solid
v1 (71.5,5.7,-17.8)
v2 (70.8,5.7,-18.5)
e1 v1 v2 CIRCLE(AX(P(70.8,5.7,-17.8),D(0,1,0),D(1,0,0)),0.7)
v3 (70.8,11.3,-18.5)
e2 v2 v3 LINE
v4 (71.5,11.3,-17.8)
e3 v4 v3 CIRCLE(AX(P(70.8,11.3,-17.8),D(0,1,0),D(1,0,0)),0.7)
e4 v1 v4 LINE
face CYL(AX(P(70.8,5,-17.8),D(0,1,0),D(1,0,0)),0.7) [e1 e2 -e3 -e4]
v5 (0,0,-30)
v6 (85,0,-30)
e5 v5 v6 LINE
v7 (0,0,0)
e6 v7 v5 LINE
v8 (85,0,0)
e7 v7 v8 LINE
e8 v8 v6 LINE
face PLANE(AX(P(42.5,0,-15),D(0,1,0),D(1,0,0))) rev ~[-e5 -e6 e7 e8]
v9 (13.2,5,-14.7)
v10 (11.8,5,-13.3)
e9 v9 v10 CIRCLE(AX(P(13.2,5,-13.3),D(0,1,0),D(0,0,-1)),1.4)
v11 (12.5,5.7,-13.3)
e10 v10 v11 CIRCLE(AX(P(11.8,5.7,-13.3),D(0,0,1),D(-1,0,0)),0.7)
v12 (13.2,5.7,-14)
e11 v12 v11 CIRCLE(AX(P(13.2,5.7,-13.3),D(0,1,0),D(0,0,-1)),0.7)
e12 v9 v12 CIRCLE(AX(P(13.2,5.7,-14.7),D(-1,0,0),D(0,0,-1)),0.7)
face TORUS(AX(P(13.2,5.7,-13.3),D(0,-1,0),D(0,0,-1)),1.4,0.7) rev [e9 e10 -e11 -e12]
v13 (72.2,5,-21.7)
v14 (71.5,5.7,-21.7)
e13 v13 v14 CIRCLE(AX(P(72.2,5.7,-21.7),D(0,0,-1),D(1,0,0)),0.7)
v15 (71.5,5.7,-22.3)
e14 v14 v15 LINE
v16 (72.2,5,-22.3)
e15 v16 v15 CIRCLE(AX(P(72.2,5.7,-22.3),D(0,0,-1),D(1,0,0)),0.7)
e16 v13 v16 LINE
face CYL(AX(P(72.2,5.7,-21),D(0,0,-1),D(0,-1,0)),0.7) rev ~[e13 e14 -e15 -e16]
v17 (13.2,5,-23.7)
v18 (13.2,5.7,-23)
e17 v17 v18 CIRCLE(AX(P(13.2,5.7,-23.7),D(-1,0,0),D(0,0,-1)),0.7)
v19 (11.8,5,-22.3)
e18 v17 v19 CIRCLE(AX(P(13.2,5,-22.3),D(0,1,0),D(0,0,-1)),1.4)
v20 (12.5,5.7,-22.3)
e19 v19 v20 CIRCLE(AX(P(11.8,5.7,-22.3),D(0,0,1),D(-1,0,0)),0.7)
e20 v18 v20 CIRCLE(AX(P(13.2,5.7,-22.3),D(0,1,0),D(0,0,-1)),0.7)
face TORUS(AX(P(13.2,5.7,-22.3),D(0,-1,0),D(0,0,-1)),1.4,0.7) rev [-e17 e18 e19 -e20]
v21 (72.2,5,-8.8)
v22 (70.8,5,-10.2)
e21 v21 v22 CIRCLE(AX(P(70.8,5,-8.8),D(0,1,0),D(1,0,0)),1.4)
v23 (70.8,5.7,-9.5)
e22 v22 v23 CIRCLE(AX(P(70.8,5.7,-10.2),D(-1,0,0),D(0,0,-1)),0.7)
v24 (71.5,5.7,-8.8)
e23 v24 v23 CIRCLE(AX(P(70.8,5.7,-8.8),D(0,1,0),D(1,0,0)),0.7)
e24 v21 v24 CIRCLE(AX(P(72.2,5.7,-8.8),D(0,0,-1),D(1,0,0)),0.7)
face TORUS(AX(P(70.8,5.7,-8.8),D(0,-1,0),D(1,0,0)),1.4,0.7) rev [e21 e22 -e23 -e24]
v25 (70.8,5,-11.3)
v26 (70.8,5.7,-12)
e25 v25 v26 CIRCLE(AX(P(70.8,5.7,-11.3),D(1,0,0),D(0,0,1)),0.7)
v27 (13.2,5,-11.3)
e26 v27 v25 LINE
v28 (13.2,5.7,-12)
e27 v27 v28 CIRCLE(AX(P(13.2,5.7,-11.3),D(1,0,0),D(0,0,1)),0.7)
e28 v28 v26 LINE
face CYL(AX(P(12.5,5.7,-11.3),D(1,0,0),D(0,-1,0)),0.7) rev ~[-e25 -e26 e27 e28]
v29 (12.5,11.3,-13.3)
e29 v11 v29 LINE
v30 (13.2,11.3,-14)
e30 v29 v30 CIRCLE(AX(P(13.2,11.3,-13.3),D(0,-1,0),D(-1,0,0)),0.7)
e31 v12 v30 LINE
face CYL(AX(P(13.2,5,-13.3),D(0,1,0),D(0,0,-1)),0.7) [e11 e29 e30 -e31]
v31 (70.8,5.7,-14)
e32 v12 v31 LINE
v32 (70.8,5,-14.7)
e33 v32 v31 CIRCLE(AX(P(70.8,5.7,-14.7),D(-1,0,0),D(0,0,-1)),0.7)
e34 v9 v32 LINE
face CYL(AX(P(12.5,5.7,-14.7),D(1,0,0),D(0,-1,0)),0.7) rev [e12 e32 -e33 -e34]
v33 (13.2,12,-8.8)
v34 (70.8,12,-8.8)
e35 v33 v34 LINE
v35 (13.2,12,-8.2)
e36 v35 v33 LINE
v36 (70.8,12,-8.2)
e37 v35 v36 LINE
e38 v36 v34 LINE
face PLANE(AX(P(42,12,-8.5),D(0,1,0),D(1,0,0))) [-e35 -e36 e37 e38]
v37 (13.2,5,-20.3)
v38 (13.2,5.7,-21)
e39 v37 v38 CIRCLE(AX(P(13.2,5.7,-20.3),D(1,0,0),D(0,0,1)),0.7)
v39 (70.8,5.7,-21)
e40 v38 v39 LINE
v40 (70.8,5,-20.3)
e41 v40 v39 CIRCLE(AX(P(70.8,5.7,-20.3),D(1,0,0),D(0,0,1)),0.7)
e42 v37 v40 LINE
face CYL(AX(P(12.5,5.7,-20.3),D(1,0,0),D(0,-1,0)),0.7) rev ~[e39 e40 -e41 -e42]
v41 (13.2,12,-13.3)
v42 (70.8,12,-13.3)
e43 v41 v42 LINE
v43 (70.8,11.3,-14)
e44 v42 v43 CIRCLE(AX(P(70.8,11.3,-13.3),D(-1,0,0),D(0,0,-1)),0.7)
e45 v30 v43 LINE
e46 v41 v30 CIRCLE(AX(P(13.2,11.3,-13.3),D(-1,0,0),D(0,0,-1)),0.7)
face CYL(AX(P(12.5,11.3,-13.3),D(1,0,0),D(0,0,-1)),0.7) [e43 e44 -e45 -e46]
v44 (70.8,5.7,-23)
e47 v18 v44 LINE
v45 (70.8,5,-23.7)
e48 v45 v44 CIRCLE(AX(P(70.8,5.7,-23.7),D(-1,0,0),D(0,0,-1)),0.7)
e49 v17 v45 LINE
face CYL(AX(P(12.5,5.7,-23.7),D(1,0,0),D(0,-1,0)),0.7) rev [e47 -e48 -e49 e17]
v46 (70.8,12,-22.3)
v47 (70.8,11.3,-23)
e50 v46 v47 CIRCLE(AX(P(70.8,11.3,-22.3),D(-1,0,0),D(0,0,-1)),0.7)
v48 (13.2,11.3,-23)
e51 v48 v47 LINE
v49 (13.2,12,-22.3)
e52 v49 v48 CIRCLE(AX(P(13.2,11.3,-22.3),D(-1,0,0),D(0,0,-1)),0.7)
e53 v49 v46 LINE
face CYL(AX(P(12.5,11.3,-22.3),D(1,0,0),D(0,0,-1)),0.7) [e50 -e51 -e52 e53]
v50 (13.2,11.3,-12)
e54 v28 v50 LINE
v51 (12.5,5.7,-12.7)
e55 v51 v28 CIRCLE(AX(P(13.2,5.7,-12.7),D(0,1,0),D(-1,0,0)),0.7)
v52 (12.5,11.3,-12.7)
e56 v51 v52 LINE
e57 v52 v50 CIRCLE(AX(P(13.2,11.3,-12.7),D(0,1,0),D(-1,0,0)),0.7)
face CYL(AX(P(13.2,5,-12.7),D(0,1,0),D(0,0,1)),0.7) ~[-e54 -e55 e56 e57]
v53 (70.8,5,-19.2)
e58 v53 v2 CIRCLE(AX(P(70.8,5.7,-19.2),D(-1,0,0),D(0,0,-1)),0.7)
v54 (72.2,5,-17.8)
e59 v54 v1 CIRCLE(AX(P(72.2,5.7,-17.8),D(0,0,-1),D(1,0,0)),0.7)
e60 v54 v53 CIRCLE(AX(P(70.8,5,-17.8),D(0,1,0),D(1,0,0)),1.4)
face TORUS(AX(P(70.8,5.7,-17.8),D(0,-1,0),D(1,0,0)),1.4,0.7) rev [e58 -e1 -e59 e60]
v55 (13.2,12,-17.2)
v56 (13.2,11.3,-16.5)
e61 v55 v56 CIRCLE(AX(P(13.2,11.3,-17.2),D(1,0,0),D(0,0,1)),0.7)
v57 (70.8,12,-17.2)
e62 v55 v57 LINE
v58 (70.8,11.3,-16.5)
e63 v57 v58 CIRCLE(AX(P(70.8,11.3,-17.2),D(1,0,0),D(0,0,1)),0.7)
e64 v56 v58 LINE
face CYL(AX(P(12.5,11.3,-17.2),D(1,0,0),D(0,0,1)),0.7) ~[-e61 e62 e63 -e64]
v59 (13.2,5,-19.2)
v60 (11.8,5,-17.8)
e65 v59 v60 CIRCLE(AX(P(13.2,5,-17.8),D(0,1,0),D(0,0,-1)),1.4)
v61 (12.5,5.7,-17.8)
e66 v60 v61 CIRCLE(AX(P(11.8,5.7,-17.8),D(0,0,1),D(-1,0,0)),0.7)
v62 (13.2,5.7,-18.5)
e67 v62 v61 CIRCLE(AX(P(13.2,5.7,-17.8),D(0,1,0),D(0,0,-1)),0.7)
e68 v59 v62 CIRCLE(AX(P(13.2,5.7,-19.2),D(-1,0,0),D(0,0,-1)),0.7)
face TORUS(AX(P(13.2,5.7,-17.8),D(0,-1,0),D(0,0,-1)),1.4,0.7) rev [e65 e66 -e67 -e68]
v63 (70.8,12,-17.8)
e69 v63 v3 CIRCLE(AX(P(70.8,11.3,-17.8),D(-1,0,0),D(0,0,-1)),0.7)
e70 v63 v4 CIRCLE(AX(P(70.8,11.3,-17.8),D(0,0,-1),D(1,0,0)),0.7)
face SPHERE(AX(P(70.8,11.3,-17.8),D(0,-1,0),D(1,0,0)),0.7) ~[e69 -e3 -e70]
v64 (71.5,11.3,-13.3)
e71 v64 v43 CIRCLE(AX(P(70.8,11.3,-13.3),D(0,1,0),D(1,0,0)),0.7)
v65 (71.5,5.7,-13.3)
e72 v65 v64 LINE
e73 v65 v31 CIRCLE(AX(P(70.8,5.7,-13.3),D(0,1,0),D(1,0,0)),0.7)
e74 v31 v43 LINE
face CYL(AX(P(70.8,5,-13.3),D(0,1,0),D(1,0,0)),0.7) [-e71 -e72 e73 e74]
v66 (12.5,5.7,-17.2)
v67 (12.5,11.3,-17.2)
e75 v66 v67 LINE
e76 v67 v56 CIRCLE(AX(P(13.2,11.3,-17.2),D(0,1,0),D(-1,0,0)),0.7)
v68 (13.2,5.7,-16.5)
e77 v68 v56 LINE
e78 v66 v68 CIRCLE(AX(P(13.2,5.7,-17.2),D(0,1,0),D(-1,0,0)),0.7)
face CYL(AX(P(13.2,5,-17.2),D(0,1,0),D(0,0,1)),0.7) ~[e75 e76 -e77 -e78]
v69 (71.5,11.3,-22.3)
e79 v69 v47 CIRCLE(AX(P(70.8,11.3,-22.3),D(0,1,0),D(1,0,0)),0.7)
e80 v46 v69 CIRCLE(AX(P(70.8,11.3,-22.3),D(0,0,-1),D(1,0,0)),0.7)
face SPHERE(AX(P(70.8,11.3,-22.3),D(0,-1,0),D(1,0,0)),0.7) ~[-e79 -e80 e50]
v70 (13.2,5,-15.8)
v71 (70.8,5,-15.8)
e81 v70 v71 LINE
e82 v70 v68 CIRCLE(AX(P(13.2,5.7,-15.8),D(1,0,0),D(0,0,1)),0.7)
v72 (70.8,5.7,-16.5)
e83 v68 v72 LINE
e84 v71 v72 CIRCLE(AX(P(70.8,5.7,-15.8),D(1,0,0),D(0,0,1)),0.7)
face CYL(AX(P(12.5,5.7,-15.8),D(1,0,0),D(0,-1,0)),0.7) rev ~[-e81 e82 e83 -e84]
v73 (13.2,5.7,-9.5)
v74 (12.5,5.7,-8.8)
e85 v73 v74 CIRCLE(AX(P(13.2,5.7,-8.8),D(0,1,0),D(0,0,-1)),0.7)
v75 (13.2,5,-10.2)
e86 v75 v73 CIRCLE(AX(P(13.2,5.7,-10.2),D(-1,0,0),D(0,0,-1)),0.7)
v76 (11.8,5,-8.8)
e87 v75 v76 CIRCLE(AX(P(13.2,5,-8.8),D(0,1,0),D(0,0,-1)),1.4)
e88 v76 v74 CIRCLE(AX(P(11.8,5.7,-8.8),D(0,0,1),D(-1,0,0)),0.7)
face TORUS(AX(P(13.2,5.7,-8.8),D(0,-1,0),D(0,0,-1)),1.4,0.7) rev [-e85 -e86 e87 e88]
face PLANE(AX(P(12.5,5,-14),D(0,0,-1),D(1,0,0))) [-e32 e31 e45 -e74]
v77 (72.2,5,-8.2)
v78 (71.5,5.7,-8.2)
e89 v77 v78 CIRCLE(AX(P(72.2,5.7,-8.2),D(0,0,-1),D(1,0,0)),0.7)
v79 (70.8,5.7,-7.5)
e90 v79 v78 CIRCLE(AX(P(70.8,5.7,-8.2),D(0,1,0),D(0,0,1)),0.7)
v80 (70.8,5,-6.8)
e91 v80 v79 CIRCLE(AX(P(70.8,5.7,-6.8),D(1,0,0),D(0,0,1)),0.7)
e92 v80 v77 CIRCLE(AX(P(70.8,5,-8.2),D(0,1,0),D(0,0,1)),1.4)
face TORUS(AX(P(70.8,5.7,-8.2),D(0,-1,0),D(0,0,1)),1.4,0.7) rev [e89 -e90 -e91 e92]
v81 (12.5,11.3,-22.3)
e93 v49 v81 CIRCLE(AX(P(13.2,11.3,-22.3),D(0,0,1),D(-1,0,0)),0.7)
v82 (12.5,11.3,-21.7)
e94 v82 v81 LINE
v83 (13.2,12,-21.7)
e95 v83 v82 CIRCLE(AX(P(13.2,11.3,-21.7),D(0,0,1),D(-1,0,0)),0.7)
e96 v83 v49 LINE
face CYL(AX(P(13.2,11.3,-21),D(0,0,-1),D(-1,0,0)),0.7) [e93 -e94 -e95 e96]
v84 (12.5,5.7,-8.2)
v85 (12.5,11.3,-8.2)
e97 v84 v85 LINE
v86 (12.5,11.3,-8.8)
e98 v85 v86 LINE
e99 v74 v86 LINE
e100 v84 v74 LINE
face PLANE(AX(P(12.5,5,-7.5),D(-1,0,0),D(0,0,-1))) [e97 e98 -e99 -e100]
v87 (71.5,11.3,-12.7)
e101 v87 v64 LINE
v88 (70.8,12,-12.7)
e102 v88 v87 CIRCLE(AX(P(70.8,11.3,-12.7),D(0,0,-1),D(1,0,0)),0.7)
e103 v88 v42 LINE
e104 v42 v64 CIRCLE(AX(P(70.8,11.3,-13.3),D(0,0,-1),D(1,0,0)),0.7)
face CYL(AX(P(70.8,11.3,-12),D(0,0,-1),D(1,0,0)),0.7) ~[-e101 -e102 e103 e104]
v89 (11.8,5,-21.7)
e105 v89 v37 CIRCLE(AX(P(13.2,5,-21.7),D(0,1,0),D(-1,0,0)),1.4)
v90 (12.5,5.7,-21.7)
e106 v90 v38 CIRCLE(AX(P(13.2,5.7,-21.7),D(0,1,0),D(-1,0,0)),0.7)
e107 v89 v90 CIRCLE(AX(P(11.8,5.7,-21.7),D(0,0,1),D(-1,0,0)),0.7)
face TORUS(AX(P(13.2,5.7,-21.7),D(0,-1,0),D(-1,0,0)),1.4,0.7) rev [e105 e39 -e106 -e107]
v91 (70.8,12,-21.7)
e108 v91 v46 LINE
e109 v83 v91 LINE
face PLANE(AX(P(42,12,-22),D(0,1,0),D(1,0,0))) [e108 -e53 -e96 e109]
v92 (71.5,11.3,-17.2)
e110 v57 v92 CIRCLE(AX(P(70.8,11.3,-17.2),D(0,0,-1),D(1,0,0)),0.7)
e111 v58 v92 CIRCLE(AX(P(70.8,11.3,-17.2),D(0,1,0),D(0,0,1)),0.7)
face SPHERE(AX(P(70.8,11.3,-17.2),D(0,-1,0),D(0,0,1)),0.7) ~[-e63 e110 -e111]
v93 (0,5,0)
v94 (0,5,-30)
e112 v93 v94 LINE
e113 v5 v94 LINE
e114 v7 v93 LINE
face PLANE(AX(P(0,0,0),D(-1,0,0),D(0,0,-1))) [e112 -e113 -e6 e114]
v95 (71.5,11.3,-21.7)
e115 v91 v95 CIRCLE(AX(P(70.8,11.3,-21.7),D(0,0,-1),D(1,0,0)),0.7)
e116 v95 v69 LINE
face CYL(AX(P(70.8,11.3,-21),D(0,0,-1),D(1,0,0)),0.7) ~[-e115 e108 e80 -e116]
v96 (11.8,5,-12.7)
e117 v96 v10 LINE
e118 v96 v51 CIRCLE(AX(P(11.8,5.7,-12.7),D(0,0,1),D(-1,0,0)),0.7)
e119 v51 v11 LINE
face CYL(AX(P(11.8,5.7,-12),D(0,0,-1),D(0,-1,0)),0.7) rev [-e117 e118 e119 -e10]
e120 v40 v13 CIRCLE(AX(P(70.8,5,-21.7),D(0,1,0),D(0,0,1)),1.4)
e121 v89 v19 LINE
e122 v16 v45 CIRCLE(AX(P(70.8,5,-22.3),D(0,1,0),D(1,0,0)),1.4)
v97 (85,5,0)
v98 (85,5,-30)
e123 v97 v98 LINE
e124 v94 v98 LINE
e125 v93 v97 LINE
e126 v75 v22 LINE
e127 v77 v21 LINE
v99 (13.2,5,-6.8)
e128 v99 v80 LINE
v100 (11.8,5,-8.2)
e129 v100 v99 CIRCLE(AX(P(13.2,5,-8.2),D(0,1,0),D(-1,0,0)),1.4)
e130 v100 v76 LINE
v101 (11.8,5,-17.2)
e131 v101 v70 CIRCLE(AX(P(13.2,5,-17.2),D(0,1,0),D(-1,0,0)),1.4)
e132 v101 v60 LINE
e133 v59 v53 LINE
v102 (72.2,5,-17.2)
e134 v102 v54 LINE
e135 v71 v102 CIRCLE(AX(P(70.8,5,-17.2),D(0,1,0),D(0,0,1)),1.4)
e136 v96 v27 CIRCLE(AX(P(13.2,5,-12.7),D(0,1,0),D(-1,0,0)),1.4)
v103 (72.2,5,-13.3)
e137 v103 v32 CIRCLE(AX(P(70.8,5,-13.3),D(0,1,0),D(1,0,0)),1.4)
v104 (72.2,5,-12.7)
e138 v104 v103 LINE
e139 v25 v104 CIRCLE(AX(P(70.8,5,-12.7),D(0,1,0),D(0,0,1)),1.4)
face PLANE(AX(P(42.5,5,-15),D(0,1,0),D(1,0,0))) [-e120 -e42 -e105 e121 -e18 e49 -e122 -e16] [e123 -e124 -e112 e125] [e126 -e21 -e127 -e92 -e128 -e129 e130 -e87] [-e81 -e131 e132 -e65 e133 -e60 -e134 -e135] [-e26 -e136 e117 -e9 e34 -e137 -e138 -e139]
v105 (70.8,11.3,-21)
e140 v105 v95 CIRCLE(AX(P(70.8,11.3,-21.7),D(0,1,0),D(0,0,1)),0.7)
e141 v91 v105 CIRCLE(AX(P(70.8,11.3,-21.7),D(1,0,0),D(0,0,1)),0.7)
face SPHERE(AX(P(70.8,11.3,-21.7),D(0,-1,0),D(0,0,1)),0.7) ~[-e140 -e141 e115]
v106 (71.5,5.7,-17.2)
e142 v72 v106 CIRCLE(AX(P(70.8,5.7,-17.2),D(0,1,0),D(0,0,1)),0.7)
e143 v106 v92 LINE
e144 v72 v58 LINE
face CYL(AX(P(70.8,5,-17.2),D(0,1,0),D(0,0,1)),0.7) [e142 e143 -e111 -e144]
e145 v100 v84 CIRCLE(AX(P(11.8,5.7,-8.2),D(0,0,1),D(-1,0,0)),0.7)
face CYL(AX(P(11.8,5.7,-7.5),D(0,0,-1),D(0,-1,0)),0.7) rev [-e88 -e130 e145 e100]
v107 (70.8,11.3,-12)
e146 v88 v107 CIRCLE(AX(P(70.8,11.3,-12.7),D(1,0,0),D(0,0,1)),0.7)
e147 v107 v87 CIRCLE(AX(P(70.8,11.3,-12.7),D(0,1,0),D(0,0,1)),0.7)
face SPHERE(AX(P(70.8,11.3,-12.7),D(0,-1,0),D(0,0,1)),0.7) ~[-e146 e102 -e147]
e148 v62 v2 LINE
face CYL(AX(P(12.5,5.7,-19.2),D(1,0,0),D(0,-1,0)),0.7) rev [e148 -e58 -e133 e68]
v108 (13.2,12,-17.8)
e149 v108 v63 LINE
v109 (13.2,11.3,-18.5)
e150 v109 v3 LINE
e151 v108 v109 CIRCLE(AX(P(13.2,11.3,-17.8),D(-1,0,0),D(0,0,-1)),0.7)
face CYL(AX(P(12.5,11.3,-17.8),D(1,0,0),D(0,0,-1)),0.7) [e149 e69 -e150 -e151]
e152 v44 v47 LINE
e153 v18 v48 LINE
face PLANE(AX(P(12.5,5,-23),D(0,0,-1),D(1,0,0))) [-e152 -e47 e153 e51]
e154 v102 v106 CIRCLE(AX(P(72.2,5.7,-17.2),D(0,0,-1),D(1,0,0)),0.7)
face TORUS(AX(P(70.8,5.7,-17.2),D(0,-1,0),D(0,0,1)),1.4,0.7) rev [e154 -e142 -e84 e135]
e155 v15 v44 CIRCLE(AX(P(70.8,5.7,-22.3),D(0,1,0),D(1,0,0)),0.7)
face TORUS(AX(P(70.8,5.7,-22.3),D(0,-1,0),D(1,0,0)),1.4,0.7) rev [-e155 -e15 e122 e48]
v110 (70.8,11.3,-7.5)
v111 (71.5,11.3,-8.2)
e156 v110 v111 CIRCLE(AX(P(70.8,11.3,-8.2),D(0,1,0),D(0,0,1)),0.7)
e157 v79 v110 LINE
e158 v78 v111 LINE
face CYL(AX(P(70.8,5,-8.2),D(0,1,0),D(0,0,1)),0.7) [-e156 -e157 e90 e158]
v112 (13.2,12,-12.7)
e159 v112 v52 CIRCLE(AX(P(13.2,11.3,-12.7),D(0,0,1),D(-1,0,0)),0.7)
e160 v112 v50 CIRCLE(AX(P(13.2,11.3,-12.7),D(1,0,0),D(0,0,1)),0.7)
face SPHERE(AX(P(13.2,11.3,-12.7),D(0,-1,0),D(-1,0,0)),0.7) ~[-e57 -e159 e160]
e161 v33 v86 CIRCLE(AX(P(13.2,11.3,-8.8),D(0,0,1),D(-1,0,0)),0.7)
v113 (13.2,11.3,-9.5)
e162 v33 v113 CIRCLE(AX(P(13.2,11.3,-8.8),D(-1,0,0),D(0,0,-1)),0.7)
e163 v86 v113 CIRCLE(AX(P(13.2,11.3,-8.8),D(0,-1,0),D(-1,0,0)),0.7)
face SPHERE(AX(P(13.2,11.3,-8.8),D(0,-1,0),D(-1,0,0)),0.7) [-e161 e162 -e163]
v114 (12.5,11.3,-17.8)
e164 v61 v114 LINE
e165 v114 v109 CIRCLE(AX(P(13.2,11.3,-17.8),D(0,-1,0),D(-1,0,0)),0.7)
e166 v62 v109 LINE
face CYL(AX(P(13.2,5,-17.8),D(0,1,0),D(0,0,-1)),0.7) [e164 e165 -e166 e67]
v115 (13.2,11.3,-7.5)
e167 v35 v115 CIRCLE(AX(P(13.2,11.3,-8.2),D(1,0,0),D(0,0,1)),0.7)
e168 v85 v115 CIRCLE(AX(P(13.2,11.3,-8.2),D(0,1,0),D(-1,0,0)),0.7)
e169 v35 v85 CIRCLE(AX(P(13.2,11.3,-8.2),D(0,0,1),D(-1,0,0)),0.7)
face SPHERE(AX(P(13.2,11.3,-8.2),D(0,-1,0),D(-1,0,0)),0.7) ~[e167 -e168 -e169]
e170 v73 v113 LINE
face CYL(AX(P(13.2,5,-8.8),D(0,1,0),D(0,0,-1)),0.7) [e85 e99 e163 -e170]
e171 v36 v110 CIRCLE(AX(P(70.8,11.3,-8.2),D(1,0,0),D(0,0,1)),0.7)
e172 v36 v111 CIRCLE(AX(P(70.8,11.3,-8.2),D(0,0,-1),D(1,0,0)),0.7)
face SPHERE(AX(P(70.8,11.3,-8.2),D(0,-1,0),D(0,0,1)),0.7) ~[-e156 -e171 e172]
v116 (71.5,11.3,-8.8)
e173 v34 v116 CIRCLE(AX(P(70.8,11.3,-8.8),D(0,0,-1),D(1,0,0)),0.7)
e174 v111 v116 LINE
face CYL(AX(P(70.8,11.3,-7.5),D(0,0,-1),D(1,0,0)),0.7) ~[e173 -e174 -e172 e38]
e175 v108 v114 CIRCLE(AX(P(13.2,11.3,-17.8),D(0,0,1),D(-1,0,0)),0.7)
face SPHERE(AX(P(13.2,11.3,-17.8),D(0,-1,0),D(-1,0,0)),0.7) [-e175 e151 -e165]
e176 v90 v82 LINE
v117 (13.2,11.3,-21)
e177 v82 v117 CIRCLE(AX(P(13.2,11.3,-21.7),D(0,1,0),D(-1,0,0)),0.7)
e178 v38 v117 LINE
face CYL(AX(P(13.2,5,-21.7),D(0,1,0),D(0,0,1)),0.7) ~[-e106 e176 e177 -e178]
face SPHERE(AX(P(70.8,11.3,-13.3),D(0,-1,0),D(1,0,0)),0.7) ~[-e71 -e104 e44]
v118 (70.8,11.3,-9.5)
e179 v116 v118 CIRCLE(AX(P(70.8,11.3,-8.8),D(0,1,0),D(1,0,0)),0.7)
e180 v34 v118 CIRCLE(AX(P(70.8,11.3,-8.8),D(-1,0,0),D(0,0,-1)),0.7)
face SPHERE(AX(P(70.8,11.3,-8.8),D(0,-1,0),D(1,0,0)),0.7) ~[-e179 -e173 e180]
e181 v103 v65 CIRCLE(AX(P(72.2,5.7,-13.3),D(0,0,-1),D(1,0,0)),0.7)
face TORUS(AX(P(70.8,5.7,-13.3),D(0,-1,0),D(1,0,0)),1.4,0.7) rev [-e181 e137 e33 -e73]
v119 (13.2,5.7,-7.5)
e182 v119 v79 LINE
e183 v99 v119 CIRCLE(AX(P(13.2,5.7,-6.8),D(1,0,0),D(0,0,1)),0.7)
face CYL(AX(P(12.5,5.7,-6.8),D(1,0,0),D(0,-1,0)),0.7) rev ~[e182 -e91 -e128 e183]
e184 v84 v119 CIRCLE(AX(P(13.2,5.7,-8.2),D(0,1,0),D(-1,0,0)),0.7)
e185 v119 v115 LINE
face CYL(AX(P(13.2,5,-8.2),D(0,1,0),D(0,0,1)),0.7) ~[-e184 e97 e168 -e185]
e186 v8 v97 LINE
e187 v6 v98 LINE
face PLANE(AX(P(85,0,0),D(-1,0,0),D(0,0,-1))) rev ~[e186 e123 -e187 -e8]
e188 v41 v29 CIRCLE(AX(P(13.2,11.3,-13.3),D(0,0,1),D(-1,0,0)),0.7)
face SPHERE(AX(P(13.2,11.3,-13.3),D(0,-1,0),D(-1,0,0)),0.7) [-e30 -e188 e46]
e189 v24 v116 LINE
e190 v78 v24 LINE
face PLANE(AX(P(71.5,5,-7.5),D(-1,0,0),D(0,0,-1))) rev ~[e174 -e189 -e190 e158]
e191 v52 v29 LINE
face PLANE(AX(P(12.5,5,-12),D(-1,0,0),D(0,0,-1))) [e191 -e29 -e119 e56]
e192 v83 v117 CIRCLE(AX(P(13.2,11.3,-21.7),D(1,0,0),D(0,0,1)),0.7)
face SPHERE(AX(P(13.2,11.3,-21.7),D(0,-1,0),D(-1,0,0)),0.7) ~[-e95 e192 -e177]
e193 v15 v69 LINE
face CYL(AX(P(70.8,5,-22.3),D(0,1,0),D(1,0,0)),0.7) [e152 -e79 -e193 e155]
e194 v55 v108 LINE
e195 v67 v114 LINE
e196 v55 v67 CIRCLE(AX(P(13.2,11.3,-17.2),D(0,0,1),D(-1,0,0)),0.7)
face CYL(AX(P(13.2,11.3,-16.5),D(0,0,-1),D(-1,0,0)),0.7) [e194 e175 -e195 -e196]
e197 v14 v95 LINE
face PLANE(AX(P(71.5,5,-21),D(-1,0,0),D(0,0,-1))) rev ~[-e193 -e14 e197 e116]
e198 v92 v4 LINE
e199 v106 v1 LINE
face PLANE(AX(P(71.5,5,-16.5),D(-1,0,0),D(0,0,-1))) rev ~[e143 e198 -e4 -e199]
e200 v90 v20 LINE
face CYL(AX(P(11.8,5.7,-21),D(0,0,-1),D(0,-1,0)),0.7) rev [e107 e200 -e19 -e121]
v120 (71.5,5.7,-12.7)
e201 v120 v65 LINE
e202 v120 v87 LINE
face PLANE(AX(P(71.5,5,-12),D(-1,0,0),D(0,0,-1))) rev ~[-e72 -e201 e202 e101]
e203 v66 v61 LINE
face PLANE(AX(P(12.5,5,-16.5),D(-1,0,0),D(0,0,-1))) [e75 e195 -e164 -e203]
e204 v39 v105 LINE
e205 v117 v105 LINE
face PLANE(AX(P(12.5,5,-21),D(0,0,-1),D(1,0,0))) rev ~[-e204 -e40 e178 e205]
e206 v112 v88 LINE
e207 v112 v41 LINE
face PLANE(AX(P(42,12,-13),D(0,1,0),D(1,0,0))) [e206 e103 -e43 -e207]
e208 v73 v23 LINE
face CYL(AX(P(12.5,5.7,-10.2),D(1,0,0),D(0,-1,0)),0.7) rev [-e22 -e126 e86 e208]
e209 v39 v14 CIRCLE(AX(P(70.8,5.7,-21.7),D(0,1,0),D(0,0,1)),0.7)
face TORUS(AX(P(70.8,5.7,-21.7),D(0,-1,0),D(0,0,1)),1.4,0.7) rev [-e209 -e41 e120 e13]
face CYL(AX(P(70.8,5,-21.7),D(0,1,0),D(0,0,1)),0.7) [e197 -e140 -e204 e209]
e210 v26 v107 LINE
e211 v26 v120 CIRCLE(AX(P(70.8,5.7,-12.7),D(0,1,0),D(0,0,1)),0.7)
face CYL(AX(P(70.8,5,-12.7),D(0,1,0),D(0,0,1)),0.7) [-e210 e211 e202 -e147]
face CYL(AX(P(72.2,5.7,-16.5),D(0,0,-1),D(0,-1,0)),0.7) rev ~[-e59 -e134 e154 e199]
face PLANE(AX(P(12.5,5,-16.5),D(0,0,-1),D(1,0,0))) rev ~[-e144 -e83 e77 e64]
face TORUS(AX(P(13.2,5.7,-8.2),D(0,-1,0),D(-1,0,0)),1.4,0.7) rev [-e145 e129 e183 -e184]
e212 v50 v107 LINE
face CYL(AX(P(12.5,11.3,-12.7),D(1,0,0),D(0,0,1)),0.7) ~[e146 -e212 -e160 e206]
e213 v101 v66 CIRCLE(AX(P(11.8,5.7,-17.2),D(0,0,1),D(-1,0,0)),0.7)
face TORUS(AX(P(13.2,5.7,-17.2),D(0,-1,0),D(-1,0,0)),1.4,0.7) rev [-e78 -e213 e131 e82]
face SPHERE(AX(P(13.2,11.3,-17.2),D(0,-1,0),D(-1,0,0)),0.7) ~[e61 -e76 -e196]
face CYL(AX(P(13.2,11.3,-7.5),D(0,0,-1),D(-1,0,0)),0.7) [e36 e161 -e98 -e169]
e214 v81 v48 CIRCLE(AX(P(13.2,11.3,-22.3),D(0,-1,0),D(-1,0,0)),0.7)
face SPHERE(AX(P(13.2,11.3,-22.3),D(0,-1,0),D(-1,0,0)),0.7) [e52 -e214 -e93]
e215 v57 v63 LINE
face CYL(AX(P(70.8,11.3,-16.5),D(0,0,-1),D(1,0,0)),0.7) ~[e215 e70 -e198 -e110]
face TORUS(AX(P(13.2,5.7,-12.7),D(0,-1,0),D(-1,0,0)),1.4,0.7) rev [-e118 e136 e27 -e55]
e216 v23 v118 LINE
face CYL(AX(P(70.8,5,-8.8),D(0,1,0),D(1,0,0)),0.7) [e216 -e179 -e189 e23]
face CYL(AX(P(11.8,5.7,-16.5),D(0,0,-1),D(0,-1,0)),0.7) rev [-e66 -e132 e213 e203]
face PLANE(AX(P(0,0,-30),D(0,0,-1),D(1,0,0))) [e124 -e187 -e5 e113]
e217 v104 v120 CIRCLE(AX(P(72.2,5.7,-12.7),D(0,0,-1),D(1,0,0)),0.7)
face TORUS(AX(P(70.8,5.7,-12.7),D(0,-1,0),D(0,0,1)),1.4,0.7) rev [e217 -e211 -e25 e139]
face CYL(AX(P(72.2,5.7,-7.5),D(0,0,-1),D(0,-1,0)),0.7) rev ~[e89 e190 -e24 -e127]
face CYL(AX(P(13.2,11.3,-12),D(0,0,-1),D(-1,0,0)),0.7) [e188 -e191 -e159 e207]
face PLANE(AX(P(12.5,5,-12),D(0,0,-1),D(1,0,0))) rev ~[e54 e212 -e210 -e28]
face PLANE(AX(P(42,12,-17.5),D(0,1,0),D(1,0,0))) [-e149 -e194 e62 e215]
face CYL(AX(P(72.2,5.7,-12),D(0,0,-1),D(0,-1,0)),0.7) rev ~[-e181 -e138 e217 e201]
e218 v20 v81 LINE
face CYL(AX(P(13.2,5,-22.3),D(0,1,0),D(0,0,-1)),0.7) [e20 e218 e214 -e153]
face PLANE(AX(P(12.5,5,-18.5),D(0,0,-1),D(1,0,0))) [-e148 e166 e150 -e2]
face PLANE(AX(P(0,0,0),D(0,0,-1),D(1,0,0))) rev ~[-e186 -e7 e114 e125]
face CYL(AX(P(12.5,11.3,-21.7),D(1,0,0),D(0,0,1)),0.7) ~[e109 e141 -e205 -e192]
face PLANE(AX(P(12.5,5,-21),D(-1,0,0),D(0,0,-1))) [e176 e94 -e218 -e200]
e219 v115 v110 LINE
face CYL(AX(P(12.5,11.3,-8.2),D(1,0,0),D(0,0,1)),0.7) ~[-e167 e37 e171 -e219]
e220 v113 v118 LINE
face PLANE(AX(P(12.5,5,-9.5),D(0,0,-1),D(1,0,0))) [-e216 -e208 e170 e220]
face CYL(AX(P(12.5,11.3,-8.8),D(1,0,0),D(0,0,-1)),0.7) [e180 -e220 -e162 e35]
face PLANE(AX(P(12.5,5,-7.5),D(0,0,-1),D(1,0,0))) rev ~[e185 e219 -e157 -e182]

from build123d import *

# Parameters (mm, degrees)
SKETCH1_W           = 85
SKETCH1_H           = 30
BOSS_EXTRUDE1_DEPTH = 5
SKETCH2_W           = 59
SKETCH2_H           = 2
BOSS_EXTRUDE2_DEPTH = 7
FILLET1_R           = 0.7


with BuildPart() as part:
    # Sketch1 → Boss-Extrude1 (new body)
    with BuildSketch(Plane(origin=(0, 0, 0), x_dir=(1, 0, 0), z_dir=(0, 1, 0))):
        with Locations((42.5, 15)):
            Rectangle(SKETCH1_W, SKETCH1_H)
    extrude(amount=BOSS_EXTRUDE1_DEPTH)

    # Sketch2 → Boss-Extrude2 (add)
    with BuildSketch(Plane(origin=(0, 5, 0), x_dir=(1, 0, 0), z_dir=(0, 1, 0))):
        with Locations((42, 22)):
            Rectangle(SKETCH2_W, SKETCH2_H)
        with Locations((42, 17.5)):
            Rectangle(SKETCH2_W, SKETCH2_H)
        with Locations((42, 13)):
            Rectangle(SKETCH2_W, SKETCH2_H)
        with Locations((42, 8.5)):
            Rectangle(SKETCH2_W, SKETCH2_H)
    extrude(amount=BOSS_EXTRUDE2_DEPTH)

    # Fillet1
    fillet1_edges = [part.edges().sort_by_distance(p)[0] for p in [
        (12.5, 5, -22),
        (12.5, 8.5, -23),
        (42, 5, -21),
        (12.5, 8.5, -21),
        (71.5, 5, -22),
        (71.5, 8.5, -21),
        (42, 5, -23),
        (71.5, 8.5, -23),
        (12.5, 12, -22),
        (42, 12, -21),
        (71.5, 12, -22),
        (42, 12, -23),
        (12.5, 5, -17.5),
        (12.5, 8.5, -18.5),
        (42, 5, -16.5),
        (12.5, 8.5, -16.5),
        (71.5, 5, -17.5),
        (71.5, 8.5, -16.5),
        (42, 5, -18.5),
        (71.5, 8.5, -18.5),
        (12.5, 12, -17.5),
        (42, 12, -16.5),
        (71.5, 12, -17.5),
        (42, 12, -18.5),
        (12.5, 5, -13),
        (12.5, 8.5, -14),
        (42, 5, -12),
        (12.5, 8.5, -12),
        (71.5, 5, -13),
        (71.5, 8.5, -12),
        (42, 5, -14),
        (71.5, 8.5, -14),
        (12.5, 12, -13),
        (42, 12, -12),
        (71.5, 12, -13),
        (42, 12, -14),
        (12.5, 5, -8.5),
        (12.5, 8.5, -9.5),
        (42, 5, -7.5),
        (12.5, 8.5, -7.5),
        (71.5, 5, -8.5),
        (71.5, 8.5, -7.5),
        (42, 5, -9.5),
        (71.5, 8.5, -9.5),
        (12.5, 12, -8.5),
        (42, 12, -7.5),
        (71.5, 12, -8.5),
        (42, 12, -9.5),
    ]]
    fillet(fillet1_edges, radius=FILLET1_R)


solid = part.part
